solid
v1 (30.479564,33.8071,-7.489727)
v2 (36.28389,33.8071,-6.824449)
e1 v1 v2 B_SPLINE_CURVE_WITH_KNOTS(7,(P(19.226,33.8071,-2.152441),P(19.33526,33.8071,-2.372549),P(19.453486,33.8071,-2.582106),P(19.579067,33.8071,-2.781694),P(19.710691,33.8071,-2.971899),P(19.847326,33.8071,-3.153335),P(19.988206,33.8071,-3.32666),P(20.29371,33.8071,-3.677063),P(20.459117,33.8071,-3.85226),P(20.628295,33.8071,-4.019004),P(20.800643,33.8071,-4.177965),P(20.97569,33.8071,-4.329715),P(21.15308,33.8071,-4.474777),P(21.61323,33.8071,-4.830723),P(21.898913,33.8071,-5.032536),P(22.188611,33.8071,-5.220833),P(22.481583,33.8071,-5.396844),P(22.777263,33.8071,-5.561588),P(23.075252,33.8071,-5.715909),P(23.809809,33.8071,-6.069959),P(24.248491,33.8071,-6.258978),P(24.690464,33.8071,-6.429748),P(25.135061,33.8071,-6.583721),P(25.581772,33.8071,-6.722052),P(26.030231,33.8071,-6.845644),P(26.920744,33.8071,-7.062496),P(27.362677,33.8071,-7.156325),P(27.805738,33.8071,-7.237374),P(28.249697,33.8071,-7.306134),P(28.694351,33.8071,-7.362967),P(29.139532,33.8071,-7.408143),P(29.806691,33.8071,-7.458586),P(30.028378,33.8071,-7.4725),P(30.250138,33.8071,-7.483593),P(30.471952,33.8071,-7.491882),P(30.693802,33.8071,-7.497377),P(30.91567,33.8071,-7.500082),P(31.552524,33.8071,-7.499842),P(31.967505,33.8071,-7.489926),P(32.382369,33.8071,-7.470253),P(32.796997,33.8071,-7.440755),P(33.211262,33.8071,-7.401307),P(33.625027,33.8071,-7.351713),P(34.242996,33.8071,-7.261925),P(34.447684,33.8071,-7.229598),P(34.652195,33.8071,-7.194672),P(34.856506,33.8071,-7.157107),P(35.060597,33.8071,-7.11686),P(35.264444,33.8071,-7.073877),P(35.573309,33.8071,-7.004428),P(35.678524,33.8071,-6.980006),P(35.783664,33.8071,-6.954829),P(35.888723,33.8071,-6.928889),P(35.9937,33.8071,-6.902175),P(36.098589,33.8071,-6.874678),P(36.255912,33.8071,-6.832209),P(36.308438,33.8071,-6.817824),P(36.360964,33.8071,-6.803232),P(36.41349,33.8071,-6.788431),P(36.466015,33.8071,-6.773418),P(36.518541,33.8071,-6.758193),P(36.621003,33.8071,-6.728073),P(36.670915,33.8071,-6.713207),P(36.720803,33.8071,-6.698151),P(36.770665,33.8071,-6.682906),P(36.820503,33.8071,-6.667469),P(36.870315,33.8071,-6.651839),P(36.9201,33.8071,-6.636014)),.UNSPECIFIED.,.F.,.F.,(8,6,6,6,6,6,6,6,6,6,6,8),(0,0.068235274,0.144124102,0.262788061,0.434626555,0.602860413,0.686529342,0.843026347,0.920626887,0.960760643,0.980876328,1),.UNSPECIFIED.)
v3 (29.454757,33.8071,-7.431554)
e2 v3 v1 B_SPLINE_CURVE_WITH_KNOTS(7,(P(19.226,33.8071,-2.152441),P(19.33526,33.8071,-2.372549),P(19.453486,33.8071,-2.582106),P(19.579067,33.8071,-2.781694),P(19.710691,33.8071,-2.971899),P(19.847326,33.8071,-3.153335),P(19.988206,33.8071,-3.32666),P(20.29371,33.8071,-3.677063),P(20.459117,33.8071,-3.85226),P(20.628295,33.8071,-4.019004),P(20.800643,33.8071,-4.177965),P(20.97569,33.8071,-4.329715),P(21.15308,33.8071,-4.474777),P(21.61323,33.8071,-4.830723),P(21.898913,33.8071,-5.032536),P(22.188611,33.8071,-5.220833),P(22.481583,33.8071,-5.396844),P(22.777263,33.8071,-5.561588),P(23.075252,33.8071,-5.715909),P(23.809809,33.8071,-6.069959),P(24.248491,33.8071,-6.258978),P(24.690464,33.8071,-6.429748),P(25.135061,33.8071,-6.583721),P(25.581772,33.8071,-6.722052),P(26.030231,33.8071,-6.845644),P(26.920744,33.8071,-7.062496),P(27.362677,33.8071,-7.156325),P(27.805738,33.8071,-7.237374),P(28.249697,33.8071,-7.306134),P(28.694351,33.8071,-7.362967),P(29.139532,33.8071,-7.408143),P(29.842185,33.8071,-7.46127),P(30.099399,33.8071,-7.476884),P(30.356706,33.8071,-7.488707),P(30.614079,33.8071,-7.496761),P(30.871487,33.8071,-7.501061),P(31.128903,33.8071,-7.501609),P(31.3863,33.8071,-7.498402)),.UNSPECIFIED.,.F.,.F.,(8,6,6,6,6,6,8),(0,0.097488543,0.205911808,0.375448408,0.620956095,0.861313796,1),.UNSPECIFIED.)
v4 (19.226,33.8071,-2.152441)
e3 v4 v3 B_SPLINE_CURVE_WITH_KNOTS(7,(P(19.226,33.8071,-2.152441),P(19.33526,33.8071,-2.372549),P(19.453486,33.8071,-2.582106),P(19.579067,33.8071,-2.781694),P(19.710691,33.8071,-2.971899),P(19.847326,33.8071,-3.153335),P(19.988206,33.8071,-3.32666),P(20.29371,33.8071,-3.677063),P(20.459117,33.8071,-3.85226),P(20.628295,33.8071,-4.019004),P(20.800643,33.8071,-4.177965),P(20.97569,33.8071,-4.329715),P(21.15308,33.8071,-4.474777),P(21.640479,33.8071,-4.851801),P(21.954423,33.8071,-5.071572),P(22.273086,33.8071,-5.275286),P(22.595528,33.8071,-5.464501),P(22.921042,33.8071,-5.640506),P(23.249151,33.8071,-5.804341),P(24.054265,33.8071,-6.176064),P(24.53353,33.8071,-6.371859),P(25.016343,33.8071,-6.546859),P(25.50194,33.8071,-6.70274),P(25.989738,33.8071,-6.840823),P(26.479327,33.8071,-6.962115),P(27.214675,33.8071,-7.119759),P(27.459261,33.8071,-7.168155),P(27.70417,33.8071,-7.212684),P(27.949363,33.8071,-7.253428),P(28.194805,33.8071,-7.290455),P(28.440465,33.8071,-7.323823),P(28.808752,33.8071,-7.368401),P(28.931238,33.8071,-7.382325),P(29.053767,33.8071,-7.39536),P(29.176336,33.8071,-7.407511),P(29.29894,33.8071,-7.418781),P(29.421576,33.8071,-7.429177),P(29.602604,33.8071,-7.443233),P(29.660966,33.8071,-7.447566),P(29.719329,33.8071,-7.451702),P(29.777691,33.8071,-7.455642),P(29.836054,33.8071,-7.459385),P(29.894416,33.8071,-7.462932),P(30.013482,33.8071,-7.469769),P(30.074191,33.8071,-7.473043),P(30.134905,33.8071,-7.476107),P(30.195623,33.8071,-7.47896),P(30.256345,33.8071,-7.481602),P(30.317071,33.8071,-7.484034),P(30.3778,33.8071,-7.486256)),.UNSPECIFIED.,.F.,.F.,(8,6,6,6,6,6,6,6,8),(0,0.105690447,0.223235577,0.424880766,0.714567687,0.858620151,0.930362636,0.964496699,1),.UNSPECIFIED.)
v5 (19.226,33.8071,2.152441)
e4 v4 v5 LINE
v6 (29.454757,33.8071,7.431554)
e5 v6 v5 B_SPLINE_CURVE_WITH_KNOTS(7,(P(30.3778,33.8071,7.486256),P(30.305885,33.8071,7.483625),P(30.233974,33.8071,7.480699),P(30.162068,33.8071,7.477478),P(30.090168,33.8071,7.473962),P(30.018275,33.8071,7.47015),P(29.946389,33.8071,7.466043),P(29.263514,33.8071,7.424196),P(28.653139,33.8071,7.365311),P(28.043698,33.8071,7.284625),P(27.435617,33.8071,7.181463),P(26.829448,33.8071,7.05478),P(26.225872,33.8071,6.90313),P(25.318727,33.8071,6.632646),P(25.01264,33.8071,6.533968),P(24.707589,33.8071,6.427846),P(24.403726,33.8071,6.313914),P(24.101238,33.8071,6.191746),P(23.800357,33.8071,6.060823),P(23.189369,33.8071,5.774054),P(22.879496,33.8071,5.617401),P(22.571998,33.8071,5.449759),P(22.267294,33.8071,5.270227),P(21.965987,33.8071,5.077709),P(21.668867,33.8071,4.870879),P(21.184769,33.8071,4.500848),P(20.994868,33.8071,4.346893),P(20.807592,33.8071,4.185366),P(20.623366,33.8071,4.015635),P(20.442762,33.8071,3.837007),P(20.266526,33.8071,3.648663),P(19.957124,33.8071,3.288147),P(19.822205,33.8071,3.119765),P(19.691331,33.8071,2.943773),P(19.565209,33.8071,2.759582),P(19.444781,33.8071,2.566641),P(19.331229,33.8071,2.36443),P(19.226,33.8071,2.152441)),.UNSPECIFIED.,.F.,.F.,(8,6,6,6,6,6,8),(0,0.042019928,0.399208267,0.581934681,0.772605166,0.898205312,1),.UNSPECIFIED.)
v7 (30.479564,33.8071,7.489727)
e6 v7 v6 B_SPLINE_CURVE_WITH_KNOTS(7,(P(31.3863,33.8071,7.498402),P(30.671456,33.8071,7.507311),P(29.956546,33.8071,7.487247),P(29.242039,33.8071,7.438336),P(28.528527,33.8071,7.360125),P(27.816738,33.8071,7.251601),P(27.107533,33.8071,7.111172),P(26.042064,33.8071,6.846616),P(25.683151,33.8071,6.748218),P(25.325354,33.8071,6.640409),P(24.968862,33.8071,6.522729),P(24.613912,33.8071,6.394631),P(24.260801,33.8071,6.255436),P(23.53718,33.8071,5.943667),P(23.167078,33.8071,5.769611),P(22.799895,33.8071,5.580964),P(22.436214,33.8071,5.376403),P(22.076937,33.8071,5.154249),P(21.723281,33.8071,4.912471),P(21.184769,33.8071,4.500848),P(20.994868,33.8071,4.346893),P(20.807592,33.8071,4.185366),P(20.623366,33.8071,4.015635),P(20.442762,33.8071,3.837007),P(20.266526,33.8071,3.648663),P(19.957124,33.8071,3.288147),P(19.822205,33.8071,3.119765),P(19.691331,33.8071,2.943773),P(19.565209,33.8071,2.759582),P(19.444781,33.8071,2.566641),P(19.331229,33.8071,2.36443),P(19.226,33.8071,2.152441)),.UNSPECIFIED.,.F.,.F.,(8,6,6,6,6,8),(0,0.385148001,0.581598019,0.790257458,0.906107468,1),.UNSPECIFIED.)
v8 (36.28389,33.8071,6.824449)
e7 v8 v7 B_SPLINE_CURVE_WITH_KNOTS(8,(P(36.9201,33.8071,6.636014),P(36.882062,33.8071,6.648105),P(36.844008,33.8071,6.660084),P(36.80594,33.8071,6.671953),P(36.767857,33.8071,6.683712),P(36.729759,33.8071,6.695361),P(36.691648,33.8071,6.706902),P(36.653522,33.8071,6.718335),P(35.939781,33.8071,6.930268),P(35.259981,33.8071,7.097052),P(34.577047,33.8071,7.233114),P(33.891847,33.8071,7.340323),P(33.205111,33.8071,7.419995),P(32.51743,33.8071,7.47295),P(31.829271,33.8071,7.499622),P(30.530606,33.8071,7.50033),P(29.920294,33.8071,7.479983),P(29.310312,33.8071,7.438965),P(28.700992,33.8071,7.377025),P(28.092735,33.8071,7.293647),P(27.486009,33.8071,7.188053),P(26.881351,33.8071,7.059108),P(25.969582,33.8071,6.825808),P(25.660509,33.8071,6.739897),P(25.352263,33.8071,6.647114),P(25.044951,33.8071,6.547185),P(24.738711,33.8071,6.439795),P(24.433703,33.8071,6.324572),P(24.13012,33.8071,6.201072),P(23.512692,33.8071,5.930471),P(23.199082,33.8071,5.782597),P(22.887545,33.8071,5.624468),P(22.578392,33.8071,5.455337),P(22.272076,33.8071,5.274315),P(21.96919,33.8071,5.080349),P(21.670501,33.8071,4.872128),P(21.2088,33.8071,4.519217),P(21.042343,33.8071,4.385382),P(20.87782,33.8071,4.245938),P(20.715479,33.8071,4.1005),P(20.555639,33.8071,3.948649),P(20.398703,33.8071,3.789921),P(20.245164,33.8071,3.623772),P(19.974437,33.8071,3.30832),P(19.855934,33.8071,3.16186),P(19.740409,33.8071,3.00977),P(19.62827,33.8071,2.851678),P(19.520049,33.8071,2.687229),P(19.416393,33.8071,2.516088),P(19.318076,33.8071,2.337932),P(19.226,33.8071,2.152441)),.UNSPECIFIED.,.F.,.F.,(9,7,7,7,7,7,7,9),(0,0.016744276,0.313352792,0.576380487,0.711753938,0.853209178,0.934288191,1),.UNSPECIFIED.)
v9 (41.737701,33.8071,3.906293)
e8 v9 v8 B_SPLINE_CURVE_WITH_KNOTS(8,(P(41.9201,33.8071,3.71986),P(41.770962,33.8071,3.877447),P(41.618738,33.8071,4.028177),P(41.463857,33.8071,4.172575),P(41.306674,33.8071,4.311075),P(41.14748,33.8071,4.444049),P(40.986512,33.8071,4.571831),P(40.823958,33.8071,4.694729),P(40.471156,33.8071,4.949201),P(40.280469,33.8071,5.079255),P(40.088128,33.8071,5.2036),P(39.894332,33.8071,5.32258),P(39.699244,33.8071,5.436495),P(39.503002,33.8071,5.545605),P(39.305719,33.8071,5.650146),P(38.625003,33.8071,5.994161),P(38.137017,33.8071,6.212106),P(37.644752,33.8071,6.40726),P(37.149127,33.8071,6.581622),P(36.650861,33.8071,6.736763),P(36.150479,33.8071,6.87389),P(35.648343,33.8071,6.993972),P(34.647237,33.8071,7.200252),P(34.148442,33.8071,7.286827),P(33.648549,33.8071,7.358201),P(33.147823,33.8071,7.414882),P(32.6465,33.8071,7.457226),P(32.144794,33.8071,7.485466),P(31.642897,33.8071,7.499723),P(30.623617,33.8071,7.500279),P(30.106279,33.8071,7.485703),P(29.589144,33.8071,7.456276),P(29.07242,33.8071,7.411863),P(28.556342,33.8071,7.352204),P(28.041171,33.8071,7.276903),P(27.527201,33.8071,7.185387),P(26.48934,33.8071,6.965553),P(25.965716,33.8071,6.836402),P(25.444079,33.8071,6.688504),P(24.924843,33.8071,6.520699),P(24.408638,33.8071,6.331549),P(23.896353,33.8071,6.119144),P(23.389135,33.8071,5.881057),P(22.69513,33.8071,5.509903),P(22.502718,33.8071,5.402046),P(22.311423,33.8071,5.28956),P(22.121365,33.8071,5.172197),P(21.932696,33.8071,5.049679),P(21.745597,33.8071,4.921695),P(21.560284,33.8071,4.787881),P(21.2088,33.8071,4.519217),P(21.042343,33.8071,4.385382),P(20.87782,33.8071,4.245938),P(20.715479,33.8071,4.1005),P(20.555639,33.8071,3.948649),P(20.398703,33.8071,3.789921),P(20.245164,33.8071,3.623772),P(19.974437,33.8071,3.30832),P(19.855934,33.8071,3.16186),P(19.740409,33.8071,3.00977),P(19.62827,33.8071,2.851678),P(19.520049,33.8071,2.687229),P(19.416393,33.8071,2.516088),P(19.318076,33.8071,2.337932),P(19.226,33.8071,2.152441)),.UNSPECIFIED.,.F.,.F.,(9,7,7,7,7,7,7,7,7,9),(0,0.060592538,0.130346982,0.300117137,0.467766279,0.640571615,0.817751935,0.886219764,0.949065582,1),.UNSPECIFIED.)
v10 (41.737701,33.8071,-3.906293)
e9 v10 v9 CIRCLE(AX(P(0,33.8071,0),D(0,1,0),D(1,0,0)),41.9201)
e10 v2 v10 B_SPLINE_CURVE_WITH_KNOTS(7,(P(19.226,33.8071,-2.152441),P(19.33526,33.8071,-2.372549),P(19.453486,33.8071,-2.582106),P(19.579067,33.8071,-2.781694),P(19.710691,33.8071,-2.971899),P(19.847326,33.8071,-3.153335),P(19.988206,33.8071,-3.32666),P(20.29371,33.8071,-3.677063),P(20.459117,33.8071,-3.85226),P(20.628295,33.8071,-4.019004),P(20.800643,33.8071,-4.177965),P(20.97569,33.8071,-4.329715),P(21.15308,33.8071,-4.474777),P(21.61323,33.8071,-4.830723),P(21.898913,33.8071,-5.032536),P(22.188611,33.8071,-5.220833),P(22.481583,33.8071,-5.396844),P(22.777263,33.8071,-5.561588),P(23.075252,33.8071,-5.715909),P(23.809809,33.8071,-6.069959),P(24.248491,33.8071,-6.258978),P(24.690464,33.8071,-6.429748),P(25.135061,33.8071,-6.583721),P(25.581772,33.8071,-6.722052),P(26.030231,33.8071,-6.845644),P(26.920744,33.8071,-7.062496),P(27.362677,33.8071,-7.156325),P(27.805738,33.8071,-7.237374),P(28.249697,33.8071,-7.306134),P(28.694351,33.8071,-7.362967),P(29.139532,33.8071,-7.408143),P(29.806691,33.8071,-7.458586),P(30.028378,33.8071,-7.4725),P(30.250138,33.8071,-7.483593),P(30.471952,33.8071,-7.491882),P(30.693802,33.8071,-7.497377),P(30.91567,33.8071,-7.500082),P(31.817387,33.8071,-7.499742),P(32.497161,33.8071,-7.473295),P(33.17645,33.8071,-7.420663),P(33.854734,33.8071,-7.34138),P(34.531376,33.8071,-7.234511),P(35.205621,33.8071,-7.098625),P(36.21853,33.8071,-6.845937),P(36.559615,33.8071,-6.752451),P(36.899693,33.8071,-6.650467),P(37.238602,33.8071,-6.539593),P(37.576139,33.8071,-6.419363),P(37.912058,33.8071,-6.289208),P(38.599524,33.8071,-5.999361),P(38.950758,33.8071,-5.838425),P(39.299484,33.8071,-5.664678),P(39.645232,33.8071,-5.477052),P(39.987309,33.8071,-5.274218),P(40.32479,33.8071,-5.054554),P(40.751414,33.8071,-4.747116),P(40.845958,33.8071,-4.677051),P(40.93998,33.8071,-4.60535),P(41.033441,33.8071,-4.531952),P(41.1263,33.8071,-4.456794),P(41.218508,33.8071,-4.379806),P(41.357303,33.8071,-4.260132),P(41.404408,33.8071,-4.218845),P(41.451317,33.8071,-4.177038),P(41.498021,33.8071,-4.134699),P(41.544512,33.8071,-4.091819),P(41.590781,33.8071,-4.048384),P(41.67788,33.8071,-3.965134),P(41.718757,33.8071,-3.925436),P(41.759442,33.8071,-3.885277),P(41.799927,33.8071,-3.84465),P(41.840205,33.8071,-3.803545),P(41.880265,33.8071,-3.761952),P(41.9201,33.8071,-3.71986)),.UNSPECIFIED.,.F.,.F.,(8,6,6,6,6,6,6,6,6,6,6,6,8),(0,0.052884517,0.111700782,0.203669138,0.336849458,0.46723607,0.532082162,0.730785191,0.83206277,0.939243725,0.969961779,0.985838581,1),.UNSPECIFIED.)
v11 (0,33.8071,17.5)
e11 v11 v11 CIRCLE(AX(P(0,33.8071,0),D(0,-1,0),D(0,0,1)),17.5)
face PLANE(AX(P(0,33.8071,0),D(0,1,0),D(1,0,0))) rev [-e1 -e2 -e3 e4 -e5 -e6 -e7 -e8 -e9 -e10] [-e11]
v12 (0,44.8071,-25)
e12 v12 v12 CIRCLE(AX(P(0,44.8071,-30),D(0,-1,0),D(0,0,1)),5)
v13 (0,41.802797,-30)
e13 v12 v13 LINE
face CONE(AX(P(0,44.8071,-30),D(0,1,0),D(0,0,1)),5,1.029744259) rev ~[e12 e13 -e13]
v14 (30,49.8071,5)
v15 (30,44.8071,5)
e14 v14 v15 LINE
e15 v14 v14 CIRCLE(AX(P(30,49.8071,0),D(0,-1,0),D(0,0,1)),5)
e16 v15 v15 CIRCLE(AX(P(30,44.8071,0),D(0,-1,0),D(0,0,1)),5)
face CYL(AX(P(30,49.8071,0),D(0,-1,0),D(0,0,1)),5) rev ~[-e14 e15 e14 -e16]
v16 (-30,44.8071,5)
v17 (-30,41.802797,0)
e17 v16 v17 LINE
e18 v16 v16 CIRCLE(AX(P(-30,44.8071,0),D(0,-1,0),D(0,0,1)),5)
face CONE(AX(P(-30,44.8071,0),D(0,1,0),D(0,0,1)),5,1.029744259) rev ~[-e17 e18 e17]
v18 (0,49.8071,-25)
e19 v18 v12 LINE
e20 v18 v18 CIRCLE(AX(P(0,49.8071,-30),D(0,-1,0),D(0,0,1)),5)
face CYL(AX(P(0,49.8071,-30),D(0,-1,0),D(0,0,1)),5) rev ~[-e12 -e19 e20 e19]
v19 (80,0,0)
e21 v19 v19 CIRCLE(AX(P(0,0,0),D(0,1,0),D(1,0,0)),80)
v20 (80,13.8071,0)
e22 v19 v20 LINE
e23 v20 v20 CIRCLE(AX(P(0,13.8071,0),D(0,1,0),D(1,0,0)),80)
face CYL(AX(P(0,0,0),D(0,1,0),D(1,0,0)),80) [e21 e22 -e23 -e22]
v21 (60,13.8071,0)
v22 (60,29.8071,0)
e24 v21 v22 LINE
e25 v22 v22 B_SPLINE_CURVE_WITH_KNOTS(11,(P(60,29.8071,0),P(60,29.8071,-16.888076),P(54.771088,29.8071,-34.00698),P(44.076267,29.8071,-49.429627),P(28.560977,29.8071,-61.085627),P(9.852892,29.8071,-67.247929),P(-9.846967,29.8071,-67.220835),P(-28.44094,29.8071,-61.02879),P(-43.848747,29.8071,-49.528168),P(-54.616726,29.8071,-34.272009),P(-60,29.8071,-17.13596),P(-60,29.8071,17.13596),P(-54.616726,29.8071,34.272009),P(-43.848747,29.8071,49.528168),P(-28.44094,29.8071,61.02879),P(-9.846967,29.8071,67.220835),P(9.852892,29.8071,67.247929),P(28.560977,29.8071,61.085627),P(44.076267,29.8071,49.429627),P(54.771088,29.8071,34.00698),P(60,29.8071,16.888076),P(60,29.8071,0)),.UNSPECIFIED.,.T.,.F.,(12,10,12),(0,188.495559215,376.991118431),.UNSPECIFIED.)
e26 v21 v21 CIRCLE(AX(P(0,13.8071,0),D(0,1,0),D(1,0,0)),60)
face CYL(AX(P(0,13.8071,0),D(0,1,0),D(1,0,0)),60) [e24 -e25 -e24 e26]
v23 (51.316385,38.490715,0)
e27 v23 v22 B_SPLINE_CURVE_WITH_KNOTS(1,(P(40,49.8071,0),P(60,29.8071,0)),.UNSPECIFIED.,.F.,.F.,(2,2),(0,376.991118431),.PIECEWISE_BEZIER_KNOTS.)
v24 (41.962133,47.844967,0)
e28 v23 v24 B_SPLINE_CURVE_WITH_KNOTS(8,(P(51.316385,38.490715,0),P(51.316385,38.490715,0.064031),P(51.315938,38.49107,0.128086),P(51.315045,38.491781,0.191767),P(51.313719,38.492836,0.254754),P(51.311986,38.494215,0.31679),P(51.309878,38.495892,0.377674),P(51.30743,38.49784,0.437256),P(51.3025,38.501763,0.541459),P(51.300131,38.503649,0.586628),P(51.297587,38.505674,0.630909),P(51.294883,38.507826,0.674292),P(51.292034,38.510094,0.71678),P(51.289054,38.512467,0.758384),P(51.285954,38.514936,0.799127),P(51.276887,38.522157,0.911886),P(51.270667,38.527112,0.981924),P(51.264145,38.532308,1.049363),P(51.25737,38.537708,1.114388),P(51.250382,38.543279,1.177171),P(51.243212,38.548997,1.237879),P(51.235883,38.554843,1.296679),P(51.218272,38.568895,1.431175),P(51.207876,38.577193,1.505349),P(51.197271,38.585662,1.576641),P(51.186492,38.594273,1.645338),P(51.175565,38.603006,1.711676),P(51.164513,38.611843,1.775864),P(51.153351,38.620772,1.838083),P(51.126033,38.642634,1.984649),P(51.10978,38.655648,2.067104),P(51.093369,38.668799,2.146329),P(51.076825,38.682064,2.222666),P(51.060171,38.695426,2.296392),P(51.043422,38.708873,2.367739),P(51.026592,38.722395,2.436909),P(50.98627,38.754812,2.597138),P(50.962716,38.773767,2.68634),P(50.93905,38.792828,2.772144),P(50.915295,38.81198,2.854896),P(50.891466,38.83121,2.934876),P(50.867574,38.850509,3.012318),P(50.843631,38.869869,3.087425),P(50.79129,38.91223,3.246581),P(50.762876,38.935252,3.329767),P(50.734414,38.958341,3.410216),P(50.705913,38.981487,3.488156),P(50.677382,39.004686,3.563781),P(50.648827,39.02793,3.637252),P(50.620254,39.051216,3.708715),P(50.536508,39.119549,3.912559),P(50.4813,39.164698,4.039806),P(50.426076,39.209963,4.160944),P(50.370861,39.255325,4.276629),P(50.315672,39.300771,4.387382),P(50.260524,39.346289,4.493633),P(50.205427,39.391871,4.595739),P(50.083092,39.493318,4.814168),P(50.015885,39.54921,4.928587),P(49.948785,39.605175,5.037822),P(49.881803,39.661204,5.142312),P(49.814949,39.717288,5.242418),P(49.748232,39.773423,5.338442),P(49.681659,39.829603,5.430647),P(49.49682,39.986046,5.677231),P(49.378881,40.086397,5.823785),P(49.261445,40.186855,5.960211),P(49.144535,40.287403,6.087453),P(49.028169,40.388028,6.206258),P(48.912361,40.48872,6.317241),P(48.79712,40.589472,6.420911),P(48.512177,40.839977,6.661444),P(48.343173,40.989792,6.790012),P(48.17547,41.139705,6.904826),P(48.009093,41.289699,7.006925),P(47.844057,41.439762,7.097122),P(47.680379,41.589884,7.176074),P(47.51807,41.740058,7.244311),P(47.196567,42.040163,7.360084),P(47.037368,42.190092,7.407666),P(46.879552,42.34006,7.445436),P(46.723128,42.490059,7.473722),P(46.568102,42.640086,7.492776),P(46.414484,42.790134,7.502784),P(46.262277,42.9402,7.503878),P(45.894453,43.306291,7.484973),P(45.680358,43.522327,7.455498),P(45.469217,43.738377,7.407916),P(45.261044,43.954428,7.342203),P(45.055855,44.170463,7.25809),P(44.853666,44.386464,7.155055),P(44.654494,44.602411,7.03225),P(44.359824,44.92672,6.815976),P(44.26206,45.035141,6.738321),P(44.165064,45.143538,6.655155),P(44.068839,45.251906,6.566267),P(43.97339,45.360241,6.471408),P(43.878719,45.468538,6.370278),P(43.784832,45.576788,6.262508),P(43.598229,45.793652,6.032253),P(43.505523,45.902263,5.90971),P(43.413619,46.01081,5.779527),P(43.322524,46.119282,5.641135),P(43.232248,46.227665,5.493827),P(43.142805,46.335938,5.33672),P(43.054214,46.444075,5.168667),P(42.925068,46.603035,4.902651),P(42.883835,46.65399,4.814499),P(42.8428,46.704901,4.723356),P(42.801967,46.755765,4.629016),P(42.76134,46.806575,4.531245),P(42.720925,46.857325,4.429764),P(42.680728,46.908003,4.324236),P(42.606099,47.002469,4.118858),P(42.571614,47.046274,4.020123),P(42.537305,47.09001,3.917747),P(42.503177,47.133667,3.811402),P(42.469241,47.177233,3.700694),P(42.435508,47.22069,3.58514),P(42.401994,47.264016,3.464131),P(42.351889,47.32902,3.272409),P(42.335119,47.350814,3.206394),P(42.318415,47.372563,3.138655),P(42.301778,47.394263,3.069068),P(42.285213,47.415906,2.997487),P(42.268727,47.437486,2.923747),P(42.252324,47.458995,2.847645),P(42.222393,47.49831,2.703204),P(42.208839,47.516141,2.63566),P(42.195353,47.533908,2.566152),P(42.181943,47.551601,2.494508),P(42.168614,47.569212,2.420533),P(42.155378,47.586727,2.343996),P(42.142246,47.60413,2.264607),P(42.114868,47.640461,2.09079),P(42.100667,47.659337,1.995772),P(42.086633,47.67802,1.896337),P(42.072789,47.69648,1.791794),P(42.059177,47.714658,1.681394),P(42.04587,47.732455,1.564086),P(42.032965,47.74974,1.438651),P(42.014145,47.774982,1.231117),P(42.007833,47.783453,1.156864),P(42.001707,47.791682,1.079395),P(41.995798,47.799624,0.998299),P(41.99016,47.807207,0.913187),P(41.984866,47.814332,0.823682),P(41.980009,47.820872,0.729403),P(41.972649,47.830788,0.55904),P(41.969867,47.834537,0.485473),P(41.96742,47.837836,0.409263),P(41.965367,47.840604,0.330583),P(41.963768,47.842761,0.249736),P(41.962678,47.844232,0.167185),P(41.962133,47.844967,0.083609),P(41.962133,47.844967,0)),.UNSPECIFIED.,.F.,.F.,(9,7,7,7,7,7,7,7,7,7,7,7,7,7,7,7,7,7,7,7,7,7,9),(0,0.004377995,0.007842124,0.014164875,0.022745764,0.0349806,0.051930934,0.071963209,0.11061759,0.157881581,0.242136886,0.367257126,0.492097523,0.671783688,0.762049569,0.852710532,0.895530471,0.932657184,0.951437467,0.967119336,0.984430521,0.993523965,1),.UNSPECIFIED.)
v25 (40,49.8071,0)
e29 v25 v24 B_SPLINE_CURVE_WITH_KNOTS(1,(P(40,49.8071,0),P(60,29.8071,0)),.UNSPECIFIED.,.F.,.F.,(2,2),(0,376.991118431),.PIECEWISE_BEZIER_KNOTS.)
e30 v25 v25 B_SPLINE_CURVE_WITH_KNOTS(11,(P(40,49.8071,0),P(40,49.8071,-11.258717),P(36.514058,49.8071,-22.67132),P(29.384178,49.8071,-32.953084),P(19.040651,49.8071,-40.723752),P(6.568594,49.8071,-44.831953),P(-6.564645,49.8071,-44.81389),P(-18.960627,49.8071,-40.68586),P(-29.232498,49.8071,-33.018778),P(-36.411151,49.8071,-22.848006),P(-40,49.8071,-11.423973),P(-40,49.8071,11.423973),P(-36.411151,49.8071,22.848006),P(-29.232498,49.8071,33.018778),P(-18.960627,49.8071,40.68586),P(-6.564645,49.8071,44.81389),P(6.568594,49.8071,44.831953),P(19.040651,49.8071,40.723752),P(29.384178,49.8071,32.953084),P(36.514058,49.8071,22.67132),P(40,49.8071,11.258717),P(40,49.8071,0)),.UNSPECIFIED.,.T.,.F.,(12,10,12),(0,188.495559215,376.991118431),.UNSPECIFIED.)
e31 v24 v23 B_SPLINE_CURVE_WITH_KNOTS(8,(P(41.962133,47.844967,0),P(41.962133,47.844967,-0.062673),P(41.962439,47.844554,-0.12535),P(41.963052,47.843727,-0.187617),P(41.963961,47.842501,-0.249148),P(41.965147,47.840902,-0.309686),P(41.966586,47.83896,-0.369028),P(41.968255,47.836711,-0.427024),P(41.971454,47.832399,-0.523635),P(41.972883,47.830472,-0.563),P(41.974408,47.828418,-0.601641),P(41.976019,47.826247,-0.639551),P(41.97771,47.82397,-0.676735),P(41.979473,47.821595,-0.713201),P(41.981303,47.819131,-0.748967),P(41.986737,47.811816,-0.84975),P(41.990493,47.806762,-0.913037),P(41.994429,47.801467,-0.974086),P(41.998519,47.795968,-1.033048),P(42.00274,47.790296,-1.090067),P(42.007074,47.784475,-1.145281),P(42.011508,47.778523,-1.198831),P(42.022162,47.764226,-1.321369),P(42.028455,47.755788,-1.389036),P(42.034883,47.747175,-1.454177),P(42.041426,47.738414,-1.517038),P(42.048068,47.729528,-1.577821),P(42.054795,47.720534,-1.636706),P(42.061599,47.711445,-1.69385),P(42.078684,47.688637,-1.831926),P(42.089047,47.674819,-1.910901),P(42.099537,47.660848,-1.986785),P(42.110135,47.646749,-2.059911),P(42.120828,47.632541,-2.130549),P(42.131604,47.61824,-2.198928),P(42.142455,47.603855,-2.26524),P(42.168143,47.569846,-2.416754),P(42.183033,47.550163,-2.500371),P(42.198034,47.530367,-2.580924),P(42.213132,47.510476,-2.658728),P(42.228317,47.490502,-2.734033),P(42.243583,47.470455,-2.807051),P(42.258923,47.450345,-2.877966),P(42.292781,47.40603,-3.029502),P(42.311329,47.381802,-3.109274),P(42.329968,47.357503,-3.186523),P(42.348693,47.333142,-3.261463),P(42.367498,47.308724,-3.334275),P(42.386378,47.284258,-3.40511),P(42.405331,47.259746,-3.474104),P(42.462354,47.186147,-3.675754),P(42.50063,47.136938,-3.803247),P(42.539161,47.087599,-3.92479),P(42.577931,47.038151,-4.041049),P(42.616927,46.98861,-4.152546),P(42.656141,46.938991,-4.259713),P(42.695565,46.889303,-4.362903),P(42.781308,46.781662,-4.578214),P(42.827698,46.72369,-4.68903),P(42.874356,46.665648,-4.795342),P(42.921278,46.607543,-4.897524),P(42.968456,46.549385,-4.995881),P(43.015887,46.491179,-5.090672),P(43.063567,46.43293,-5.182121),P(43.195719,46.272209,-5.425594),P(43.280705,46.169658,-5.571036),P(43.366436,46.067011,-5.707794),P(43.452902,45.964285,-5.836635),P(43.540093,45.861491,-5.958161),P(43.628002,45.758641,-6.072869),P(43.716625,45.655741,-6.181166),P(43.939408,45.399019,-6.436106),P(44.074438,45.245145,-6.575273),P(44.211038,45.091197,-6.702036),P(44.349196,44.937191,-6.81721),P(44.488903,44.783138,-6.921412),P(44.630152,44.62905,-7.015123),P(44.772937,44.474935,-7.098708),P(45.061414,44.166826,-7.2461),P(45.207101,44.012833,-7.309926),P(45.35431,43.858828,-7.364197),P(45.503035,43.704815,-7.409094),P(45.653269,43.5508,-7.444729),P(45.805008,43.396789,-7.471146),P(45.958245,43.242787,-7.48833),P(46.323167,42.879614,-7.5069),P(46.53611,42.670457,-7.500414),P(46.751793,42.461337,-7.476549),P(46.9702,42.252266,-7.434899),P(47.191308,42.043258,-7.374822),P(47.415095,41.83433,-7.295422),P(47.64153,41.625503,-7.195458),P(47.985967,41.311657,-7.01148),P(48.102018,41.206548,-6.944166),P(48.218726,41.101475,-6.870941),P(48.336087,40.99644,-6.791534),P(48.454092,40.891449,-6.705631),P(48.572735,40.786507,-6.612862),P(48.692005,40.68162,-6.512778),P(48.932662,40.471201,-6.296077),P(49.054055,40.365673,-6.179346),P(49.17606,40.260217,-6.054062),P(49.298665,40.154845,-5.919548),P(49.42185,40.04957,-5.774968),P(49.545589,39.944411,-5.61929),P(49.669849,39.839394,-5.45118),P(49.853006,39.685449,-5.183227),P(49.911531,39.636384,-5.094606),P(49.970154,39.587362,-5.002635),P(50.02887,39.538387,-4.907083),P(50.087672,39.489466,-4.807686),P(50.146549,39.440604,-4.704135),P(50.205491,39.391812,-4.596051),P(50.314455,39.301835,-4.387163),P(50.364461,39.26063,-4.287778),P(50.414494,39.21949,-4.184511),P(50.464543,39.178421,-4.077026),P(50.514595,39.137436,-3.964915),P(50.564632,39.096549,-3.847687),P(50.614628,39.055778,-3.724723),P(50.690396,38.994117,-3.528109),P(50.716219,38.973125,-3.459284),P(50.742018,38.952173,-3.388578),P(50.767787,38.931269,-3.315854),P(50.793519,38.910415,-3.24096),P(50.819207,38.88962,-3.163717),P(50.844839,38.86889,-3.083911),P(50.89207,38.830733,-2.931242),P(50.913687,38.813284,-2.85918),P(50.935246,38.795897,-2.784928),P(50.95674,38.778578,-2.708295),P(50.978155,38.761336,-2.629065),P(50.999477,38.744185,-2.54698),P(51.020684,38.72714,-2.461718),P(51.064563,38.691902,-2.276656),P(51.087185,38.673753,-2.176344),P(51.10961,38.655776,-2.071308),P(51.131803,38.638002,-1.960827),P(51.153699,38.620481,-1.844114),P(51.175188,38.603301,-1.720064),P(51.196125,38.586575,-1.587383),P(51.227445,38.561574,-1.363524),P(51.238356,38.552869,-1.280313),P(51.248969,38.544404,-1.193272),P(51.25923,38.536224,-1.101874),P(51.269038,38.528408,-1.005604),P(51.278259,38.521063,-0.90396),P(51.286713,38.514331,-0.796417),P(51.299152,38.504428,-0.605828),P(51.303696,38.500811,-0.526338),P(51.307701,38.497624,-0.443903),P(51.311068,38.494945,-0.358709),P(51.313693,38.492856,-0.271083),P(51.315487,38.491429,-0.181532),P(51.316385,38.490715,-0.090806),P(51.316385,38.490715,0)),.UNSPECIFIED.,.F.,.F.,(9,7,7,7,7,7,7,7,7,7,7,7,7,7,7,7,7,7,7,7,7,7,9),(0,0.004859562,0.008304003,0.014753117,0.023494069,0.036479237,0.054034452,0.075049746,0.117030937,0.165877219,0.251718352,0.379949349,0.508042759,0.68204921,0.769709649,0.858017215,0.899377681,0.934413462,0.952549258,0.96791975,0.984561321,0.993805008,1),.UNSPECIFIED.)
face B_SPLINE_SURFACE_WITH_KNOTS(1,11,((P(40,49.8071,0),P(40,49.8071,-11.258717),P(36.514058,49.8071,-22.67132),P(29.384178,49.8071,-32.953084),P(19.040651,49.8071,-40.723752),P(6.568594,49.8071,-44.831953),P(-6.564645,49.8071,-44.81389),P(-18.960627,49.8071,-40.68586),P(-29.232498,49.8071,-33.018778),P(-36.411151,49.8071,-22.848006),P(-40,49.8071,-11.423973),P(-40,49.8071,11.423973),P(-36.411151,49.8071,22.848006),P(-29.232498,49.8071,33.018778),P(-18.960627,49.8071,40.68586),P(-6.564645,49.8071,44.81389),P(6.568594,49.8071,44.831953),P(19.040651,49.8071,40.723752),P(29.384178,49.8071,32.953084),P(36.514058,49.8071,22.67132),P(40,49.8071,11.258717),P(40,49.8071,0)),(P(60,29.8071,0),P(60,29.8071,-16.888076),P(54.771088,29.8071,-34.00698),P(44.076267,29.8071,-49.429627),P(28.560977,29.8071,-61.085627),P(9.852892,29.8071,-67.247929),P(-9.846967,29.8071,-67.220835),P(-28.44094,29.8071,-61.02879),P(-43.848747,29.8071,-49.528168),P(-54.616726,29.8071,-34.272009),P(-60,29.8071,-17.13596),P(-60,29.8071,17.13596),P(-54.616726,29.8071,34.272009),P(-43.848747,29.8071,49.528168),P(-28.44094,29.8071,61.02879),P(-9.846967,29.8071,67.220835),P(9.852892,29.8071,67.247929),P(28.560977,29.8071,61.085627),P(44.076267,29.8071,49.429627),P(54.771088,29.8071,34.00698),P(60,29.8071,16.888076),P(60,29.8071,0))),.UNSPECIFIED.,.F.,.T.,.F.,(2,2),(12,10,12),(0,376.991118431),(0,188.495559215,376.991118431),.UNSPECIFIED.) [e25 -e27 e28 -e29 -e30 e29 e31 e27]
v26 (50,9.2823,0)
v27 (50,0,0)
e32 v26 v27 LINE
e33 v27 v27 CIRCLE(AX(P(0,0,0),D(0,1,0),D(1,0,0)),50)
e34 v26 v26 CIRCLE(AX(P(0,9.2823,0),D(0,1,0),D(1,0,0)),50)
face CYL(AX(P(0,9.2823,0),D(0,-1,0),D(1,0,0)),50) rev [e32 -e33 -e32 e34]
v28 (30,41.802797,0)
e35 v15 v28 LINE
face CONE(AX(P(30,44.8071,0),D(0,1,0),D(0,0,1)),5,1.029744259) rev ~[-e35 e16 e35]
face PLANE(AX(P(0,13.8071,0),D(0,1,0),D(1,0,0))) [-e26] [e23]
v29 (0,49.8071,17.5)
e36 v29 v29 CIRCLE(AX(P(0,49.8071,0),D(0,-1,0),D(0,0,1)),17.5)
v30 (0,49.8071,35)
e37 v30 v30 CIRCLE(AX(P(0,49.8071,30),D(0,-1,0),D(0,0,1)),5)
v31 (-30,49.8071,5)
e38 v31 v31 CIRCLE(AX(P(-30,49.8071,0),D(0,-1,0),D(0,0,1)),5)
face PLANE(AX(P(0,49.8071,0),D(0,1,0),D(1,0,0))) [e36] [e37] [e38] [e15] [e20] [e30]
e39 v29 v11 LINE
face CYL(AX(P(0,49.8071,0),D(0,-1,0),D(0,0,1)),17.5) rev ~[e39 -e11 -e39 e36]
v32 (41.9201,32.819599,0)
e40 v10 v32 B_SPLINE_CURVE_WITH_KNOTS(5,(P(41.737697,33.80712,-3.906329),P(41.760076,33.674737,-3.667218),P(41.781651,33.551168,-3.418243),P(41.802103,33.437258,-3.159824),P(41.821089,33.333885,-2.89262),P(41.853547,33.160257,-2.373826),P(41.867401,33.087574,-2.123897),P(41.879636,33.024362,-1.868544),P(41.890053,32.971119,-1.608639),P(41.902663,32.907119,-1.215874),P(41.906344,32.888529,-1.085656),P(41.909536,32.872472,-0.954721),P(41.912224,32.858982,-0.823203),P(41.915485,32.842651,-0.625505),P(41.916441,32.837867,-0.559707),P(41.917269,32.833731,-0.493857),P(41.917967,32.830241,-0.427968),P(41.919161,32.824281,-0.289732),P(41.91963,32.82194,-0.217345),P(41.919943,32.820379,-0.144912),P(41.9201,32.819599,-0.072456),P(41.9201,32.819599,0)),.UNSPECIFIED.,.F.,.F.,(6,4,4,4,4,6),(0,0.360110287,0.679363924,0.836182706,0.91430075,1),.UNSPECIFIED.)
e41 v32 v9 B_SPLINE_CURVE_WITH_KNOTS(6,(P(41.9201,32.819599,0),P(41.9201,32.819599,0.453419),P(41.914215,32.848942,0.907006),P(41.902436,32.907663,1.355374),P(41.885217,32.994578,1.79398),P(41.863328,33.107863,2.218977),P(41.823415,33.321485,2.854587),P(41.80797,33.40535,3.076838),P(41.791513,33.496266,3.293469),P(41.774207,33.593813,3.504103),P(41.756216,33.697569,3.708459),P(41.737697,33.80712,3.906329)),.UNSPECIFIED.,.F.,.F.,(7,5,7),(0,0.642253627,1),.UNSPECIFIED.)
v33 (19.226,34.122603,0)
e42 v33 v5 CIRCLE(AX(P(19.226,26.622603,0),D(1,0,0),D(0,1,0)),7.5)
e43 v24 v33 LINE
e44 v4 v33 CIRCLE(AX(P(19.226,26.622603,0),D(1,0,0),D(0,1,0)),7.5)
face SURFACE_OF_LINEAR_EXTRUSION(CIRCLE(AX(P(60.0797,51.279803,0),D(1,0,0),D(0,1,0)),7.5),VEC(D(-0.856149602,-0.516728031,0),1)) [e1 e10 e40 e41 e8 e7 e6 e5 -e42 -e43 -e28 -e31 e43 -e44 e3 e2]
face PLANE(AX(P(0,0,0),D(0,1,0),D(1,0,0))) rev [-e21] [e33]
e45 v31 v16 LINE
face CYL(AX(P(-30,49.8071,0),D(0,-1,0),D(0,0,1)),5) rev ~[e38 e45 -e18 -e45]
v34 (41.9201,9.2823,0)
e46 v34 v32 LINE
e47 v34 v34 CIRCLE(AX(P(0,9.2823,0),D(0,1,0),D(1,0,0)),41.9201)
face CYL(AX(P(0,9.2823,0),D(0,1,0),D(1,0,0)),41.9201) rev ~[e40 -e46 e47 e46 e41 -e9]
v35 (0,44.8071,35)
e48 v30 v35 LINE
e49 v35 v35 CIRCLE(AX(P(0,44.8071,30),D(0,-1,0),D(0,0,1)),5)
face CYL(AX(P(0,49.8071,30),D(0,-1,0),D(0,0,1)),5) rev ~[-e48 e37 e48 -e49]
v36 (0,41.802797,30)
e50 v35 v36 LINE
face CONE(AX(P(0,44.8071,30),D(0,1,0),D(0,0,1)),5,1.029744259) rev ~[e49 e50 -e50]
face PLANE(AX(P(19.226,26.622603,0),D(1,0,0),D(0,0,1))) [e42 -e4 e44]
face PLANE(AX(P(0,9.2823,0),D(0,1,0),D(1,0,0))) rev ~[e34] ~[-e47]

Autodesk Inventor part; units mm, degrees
ref_plane "XZ Plane" through (0, 0, 0) normal (0, 1, 0) x (-1, 0, 0)
ref_plane "XY Plane" through (0, 0, 0) normal (0, 0, 1) x (1, 0, 0)
sketch "Sketch1" plane through (0, 0, 0) normal (0, 0, 1) x (1, 0, 0)
  line L0 (0, 0) -> (0, 66)
  line L1 (80, 0) -> (80, 13.8071)
  line L2 (-21.5975, 0) -> (0, 0)
  line L3 (46.9201, 0) -> (53.1744, 0)
  line L4 (80, 13.8071) -> (60, 13.8071)
  line L5 (60, 13.8071) -> (60, 33.8071)
  line L6 (36.9201, 33.8071) -> (30.3778, 33.8071)
  line L7 (0, 33.8071) -> (31.3863, 33.8071)
  line L8 (0, 33.8071) -> (0, 49.8071)
  line L9 (0, 49.8071) -> (35, 49.8071)
  line L10 (46.9201, 9.2823) -> (41.9201, 9.2823)
  line L11 (41.9201, 9.2823) -> (41.9201, 33.8071)
  line L12 (41.9201, 33.8071) -> (36.9201, 33.8071)
  line L13 (60, 33.8071) -> (60, 49.8071)
  line L14 (60, 49.8071) -> (35, 49.8071)
  line L15 (46.9201, 9.2823) -> (50, 9.2823)
  line L16 (50, 9.2823) -> (50, 0)
  line L17 (50, 0) -> (80, 0)
  dimension "d0" = 66
  dimension "d2" = 160
  dimension "d4" = 20
  dimension "d5" = 20
  dimension "d15" = 35
  dimension "d16" = 70
  dimension "d84" = 100
revolve "Revolution1" add sketch "Sketch1" angle 360 about axis through (0, 0, 0) along (0, 1, 0)
chamfer "Chamfer1" distance 20 angle 45 1 edges at (-60, 49.8071, 0)
ref_plane "Work Plane1" through (60, 0, 0) normal (1, 0, 0) x (0, 1, 0)
sketch "Sketch8" plane through (60, 0, 0) normal (1, 0, 0) x (0, 1, 0)
  circle A0 centre (51.2317, 0) radius 7.5
  point P0 (0, 0)
  dimension "d51" = 15
sketch "Sketch9" plane through (0, 0, 0) normal (0, 0, 1) x (1, 0, 0)
  line L0 (60.0797, 51.2451) -> (19.226, 26.5879)
  point P0 (0, 0)
sweep "Sweep2" cut profiles "Sketch8" path "Sketch9"
sketch "Sketch10" plane through (0, 49.8071, 0) normal (0, 1, 0) x (1, 0, 0)
  circle A0 centre (0, 0) radius 16
  dimension "d54" = 32
hole "Hole2" at (0, 49.8071, 0) direction (0, -1, 0) diameter 35 end through all
sketch "Sketch11" plane through (0, 49.8071, 0) normal (0, 1, 0) x (1, 0, 0)
  circle A0 centre (0, 0) radius 40
  circle A1 centre (0, -30) radius 5
  circle A2 centre (30, 0) radius 5
  circle A3 centre (0, 30) radius 5
  circle A4 centre (-30, 0) radius 5
  dimension "d64" = 80
  dimension "d65" = 10
  dimension "d66" = 30
  dimension "d67" = 360
hole "Hole3" at (0, 49.8071, -30) at (30, 49.8071, 0) at (0, 49.8071, 30) at (-30, 49.8071, 0) direction (0, -1, 0) diameter 10 depth 5 tip angle 118
thread "Thread5"
thread "Thread6"
thread "Thread7"
thread "Thread8"
equation "\"d60\" = Thickness"
equation "\"BendRadius\" = Thickness"
equation "\"BendReliefWidth\" = Thickness"
equation "\"BendReliefDepth\" = 0.5 * Thickness"
equation "\"CornerReliefSize\" = 4 * Thickness"
equation "\"MinimumRemnant\" = 2 * Thickness"
equation "\"TransitionRadius\" = BendRadius"
equation "\"JacobiRadiusSize\" = BendRadius"
equation "\"GapSize\" = Thickness"
equation "\"Thickness\" = 0.5"
properties material "Stainless Steel"
